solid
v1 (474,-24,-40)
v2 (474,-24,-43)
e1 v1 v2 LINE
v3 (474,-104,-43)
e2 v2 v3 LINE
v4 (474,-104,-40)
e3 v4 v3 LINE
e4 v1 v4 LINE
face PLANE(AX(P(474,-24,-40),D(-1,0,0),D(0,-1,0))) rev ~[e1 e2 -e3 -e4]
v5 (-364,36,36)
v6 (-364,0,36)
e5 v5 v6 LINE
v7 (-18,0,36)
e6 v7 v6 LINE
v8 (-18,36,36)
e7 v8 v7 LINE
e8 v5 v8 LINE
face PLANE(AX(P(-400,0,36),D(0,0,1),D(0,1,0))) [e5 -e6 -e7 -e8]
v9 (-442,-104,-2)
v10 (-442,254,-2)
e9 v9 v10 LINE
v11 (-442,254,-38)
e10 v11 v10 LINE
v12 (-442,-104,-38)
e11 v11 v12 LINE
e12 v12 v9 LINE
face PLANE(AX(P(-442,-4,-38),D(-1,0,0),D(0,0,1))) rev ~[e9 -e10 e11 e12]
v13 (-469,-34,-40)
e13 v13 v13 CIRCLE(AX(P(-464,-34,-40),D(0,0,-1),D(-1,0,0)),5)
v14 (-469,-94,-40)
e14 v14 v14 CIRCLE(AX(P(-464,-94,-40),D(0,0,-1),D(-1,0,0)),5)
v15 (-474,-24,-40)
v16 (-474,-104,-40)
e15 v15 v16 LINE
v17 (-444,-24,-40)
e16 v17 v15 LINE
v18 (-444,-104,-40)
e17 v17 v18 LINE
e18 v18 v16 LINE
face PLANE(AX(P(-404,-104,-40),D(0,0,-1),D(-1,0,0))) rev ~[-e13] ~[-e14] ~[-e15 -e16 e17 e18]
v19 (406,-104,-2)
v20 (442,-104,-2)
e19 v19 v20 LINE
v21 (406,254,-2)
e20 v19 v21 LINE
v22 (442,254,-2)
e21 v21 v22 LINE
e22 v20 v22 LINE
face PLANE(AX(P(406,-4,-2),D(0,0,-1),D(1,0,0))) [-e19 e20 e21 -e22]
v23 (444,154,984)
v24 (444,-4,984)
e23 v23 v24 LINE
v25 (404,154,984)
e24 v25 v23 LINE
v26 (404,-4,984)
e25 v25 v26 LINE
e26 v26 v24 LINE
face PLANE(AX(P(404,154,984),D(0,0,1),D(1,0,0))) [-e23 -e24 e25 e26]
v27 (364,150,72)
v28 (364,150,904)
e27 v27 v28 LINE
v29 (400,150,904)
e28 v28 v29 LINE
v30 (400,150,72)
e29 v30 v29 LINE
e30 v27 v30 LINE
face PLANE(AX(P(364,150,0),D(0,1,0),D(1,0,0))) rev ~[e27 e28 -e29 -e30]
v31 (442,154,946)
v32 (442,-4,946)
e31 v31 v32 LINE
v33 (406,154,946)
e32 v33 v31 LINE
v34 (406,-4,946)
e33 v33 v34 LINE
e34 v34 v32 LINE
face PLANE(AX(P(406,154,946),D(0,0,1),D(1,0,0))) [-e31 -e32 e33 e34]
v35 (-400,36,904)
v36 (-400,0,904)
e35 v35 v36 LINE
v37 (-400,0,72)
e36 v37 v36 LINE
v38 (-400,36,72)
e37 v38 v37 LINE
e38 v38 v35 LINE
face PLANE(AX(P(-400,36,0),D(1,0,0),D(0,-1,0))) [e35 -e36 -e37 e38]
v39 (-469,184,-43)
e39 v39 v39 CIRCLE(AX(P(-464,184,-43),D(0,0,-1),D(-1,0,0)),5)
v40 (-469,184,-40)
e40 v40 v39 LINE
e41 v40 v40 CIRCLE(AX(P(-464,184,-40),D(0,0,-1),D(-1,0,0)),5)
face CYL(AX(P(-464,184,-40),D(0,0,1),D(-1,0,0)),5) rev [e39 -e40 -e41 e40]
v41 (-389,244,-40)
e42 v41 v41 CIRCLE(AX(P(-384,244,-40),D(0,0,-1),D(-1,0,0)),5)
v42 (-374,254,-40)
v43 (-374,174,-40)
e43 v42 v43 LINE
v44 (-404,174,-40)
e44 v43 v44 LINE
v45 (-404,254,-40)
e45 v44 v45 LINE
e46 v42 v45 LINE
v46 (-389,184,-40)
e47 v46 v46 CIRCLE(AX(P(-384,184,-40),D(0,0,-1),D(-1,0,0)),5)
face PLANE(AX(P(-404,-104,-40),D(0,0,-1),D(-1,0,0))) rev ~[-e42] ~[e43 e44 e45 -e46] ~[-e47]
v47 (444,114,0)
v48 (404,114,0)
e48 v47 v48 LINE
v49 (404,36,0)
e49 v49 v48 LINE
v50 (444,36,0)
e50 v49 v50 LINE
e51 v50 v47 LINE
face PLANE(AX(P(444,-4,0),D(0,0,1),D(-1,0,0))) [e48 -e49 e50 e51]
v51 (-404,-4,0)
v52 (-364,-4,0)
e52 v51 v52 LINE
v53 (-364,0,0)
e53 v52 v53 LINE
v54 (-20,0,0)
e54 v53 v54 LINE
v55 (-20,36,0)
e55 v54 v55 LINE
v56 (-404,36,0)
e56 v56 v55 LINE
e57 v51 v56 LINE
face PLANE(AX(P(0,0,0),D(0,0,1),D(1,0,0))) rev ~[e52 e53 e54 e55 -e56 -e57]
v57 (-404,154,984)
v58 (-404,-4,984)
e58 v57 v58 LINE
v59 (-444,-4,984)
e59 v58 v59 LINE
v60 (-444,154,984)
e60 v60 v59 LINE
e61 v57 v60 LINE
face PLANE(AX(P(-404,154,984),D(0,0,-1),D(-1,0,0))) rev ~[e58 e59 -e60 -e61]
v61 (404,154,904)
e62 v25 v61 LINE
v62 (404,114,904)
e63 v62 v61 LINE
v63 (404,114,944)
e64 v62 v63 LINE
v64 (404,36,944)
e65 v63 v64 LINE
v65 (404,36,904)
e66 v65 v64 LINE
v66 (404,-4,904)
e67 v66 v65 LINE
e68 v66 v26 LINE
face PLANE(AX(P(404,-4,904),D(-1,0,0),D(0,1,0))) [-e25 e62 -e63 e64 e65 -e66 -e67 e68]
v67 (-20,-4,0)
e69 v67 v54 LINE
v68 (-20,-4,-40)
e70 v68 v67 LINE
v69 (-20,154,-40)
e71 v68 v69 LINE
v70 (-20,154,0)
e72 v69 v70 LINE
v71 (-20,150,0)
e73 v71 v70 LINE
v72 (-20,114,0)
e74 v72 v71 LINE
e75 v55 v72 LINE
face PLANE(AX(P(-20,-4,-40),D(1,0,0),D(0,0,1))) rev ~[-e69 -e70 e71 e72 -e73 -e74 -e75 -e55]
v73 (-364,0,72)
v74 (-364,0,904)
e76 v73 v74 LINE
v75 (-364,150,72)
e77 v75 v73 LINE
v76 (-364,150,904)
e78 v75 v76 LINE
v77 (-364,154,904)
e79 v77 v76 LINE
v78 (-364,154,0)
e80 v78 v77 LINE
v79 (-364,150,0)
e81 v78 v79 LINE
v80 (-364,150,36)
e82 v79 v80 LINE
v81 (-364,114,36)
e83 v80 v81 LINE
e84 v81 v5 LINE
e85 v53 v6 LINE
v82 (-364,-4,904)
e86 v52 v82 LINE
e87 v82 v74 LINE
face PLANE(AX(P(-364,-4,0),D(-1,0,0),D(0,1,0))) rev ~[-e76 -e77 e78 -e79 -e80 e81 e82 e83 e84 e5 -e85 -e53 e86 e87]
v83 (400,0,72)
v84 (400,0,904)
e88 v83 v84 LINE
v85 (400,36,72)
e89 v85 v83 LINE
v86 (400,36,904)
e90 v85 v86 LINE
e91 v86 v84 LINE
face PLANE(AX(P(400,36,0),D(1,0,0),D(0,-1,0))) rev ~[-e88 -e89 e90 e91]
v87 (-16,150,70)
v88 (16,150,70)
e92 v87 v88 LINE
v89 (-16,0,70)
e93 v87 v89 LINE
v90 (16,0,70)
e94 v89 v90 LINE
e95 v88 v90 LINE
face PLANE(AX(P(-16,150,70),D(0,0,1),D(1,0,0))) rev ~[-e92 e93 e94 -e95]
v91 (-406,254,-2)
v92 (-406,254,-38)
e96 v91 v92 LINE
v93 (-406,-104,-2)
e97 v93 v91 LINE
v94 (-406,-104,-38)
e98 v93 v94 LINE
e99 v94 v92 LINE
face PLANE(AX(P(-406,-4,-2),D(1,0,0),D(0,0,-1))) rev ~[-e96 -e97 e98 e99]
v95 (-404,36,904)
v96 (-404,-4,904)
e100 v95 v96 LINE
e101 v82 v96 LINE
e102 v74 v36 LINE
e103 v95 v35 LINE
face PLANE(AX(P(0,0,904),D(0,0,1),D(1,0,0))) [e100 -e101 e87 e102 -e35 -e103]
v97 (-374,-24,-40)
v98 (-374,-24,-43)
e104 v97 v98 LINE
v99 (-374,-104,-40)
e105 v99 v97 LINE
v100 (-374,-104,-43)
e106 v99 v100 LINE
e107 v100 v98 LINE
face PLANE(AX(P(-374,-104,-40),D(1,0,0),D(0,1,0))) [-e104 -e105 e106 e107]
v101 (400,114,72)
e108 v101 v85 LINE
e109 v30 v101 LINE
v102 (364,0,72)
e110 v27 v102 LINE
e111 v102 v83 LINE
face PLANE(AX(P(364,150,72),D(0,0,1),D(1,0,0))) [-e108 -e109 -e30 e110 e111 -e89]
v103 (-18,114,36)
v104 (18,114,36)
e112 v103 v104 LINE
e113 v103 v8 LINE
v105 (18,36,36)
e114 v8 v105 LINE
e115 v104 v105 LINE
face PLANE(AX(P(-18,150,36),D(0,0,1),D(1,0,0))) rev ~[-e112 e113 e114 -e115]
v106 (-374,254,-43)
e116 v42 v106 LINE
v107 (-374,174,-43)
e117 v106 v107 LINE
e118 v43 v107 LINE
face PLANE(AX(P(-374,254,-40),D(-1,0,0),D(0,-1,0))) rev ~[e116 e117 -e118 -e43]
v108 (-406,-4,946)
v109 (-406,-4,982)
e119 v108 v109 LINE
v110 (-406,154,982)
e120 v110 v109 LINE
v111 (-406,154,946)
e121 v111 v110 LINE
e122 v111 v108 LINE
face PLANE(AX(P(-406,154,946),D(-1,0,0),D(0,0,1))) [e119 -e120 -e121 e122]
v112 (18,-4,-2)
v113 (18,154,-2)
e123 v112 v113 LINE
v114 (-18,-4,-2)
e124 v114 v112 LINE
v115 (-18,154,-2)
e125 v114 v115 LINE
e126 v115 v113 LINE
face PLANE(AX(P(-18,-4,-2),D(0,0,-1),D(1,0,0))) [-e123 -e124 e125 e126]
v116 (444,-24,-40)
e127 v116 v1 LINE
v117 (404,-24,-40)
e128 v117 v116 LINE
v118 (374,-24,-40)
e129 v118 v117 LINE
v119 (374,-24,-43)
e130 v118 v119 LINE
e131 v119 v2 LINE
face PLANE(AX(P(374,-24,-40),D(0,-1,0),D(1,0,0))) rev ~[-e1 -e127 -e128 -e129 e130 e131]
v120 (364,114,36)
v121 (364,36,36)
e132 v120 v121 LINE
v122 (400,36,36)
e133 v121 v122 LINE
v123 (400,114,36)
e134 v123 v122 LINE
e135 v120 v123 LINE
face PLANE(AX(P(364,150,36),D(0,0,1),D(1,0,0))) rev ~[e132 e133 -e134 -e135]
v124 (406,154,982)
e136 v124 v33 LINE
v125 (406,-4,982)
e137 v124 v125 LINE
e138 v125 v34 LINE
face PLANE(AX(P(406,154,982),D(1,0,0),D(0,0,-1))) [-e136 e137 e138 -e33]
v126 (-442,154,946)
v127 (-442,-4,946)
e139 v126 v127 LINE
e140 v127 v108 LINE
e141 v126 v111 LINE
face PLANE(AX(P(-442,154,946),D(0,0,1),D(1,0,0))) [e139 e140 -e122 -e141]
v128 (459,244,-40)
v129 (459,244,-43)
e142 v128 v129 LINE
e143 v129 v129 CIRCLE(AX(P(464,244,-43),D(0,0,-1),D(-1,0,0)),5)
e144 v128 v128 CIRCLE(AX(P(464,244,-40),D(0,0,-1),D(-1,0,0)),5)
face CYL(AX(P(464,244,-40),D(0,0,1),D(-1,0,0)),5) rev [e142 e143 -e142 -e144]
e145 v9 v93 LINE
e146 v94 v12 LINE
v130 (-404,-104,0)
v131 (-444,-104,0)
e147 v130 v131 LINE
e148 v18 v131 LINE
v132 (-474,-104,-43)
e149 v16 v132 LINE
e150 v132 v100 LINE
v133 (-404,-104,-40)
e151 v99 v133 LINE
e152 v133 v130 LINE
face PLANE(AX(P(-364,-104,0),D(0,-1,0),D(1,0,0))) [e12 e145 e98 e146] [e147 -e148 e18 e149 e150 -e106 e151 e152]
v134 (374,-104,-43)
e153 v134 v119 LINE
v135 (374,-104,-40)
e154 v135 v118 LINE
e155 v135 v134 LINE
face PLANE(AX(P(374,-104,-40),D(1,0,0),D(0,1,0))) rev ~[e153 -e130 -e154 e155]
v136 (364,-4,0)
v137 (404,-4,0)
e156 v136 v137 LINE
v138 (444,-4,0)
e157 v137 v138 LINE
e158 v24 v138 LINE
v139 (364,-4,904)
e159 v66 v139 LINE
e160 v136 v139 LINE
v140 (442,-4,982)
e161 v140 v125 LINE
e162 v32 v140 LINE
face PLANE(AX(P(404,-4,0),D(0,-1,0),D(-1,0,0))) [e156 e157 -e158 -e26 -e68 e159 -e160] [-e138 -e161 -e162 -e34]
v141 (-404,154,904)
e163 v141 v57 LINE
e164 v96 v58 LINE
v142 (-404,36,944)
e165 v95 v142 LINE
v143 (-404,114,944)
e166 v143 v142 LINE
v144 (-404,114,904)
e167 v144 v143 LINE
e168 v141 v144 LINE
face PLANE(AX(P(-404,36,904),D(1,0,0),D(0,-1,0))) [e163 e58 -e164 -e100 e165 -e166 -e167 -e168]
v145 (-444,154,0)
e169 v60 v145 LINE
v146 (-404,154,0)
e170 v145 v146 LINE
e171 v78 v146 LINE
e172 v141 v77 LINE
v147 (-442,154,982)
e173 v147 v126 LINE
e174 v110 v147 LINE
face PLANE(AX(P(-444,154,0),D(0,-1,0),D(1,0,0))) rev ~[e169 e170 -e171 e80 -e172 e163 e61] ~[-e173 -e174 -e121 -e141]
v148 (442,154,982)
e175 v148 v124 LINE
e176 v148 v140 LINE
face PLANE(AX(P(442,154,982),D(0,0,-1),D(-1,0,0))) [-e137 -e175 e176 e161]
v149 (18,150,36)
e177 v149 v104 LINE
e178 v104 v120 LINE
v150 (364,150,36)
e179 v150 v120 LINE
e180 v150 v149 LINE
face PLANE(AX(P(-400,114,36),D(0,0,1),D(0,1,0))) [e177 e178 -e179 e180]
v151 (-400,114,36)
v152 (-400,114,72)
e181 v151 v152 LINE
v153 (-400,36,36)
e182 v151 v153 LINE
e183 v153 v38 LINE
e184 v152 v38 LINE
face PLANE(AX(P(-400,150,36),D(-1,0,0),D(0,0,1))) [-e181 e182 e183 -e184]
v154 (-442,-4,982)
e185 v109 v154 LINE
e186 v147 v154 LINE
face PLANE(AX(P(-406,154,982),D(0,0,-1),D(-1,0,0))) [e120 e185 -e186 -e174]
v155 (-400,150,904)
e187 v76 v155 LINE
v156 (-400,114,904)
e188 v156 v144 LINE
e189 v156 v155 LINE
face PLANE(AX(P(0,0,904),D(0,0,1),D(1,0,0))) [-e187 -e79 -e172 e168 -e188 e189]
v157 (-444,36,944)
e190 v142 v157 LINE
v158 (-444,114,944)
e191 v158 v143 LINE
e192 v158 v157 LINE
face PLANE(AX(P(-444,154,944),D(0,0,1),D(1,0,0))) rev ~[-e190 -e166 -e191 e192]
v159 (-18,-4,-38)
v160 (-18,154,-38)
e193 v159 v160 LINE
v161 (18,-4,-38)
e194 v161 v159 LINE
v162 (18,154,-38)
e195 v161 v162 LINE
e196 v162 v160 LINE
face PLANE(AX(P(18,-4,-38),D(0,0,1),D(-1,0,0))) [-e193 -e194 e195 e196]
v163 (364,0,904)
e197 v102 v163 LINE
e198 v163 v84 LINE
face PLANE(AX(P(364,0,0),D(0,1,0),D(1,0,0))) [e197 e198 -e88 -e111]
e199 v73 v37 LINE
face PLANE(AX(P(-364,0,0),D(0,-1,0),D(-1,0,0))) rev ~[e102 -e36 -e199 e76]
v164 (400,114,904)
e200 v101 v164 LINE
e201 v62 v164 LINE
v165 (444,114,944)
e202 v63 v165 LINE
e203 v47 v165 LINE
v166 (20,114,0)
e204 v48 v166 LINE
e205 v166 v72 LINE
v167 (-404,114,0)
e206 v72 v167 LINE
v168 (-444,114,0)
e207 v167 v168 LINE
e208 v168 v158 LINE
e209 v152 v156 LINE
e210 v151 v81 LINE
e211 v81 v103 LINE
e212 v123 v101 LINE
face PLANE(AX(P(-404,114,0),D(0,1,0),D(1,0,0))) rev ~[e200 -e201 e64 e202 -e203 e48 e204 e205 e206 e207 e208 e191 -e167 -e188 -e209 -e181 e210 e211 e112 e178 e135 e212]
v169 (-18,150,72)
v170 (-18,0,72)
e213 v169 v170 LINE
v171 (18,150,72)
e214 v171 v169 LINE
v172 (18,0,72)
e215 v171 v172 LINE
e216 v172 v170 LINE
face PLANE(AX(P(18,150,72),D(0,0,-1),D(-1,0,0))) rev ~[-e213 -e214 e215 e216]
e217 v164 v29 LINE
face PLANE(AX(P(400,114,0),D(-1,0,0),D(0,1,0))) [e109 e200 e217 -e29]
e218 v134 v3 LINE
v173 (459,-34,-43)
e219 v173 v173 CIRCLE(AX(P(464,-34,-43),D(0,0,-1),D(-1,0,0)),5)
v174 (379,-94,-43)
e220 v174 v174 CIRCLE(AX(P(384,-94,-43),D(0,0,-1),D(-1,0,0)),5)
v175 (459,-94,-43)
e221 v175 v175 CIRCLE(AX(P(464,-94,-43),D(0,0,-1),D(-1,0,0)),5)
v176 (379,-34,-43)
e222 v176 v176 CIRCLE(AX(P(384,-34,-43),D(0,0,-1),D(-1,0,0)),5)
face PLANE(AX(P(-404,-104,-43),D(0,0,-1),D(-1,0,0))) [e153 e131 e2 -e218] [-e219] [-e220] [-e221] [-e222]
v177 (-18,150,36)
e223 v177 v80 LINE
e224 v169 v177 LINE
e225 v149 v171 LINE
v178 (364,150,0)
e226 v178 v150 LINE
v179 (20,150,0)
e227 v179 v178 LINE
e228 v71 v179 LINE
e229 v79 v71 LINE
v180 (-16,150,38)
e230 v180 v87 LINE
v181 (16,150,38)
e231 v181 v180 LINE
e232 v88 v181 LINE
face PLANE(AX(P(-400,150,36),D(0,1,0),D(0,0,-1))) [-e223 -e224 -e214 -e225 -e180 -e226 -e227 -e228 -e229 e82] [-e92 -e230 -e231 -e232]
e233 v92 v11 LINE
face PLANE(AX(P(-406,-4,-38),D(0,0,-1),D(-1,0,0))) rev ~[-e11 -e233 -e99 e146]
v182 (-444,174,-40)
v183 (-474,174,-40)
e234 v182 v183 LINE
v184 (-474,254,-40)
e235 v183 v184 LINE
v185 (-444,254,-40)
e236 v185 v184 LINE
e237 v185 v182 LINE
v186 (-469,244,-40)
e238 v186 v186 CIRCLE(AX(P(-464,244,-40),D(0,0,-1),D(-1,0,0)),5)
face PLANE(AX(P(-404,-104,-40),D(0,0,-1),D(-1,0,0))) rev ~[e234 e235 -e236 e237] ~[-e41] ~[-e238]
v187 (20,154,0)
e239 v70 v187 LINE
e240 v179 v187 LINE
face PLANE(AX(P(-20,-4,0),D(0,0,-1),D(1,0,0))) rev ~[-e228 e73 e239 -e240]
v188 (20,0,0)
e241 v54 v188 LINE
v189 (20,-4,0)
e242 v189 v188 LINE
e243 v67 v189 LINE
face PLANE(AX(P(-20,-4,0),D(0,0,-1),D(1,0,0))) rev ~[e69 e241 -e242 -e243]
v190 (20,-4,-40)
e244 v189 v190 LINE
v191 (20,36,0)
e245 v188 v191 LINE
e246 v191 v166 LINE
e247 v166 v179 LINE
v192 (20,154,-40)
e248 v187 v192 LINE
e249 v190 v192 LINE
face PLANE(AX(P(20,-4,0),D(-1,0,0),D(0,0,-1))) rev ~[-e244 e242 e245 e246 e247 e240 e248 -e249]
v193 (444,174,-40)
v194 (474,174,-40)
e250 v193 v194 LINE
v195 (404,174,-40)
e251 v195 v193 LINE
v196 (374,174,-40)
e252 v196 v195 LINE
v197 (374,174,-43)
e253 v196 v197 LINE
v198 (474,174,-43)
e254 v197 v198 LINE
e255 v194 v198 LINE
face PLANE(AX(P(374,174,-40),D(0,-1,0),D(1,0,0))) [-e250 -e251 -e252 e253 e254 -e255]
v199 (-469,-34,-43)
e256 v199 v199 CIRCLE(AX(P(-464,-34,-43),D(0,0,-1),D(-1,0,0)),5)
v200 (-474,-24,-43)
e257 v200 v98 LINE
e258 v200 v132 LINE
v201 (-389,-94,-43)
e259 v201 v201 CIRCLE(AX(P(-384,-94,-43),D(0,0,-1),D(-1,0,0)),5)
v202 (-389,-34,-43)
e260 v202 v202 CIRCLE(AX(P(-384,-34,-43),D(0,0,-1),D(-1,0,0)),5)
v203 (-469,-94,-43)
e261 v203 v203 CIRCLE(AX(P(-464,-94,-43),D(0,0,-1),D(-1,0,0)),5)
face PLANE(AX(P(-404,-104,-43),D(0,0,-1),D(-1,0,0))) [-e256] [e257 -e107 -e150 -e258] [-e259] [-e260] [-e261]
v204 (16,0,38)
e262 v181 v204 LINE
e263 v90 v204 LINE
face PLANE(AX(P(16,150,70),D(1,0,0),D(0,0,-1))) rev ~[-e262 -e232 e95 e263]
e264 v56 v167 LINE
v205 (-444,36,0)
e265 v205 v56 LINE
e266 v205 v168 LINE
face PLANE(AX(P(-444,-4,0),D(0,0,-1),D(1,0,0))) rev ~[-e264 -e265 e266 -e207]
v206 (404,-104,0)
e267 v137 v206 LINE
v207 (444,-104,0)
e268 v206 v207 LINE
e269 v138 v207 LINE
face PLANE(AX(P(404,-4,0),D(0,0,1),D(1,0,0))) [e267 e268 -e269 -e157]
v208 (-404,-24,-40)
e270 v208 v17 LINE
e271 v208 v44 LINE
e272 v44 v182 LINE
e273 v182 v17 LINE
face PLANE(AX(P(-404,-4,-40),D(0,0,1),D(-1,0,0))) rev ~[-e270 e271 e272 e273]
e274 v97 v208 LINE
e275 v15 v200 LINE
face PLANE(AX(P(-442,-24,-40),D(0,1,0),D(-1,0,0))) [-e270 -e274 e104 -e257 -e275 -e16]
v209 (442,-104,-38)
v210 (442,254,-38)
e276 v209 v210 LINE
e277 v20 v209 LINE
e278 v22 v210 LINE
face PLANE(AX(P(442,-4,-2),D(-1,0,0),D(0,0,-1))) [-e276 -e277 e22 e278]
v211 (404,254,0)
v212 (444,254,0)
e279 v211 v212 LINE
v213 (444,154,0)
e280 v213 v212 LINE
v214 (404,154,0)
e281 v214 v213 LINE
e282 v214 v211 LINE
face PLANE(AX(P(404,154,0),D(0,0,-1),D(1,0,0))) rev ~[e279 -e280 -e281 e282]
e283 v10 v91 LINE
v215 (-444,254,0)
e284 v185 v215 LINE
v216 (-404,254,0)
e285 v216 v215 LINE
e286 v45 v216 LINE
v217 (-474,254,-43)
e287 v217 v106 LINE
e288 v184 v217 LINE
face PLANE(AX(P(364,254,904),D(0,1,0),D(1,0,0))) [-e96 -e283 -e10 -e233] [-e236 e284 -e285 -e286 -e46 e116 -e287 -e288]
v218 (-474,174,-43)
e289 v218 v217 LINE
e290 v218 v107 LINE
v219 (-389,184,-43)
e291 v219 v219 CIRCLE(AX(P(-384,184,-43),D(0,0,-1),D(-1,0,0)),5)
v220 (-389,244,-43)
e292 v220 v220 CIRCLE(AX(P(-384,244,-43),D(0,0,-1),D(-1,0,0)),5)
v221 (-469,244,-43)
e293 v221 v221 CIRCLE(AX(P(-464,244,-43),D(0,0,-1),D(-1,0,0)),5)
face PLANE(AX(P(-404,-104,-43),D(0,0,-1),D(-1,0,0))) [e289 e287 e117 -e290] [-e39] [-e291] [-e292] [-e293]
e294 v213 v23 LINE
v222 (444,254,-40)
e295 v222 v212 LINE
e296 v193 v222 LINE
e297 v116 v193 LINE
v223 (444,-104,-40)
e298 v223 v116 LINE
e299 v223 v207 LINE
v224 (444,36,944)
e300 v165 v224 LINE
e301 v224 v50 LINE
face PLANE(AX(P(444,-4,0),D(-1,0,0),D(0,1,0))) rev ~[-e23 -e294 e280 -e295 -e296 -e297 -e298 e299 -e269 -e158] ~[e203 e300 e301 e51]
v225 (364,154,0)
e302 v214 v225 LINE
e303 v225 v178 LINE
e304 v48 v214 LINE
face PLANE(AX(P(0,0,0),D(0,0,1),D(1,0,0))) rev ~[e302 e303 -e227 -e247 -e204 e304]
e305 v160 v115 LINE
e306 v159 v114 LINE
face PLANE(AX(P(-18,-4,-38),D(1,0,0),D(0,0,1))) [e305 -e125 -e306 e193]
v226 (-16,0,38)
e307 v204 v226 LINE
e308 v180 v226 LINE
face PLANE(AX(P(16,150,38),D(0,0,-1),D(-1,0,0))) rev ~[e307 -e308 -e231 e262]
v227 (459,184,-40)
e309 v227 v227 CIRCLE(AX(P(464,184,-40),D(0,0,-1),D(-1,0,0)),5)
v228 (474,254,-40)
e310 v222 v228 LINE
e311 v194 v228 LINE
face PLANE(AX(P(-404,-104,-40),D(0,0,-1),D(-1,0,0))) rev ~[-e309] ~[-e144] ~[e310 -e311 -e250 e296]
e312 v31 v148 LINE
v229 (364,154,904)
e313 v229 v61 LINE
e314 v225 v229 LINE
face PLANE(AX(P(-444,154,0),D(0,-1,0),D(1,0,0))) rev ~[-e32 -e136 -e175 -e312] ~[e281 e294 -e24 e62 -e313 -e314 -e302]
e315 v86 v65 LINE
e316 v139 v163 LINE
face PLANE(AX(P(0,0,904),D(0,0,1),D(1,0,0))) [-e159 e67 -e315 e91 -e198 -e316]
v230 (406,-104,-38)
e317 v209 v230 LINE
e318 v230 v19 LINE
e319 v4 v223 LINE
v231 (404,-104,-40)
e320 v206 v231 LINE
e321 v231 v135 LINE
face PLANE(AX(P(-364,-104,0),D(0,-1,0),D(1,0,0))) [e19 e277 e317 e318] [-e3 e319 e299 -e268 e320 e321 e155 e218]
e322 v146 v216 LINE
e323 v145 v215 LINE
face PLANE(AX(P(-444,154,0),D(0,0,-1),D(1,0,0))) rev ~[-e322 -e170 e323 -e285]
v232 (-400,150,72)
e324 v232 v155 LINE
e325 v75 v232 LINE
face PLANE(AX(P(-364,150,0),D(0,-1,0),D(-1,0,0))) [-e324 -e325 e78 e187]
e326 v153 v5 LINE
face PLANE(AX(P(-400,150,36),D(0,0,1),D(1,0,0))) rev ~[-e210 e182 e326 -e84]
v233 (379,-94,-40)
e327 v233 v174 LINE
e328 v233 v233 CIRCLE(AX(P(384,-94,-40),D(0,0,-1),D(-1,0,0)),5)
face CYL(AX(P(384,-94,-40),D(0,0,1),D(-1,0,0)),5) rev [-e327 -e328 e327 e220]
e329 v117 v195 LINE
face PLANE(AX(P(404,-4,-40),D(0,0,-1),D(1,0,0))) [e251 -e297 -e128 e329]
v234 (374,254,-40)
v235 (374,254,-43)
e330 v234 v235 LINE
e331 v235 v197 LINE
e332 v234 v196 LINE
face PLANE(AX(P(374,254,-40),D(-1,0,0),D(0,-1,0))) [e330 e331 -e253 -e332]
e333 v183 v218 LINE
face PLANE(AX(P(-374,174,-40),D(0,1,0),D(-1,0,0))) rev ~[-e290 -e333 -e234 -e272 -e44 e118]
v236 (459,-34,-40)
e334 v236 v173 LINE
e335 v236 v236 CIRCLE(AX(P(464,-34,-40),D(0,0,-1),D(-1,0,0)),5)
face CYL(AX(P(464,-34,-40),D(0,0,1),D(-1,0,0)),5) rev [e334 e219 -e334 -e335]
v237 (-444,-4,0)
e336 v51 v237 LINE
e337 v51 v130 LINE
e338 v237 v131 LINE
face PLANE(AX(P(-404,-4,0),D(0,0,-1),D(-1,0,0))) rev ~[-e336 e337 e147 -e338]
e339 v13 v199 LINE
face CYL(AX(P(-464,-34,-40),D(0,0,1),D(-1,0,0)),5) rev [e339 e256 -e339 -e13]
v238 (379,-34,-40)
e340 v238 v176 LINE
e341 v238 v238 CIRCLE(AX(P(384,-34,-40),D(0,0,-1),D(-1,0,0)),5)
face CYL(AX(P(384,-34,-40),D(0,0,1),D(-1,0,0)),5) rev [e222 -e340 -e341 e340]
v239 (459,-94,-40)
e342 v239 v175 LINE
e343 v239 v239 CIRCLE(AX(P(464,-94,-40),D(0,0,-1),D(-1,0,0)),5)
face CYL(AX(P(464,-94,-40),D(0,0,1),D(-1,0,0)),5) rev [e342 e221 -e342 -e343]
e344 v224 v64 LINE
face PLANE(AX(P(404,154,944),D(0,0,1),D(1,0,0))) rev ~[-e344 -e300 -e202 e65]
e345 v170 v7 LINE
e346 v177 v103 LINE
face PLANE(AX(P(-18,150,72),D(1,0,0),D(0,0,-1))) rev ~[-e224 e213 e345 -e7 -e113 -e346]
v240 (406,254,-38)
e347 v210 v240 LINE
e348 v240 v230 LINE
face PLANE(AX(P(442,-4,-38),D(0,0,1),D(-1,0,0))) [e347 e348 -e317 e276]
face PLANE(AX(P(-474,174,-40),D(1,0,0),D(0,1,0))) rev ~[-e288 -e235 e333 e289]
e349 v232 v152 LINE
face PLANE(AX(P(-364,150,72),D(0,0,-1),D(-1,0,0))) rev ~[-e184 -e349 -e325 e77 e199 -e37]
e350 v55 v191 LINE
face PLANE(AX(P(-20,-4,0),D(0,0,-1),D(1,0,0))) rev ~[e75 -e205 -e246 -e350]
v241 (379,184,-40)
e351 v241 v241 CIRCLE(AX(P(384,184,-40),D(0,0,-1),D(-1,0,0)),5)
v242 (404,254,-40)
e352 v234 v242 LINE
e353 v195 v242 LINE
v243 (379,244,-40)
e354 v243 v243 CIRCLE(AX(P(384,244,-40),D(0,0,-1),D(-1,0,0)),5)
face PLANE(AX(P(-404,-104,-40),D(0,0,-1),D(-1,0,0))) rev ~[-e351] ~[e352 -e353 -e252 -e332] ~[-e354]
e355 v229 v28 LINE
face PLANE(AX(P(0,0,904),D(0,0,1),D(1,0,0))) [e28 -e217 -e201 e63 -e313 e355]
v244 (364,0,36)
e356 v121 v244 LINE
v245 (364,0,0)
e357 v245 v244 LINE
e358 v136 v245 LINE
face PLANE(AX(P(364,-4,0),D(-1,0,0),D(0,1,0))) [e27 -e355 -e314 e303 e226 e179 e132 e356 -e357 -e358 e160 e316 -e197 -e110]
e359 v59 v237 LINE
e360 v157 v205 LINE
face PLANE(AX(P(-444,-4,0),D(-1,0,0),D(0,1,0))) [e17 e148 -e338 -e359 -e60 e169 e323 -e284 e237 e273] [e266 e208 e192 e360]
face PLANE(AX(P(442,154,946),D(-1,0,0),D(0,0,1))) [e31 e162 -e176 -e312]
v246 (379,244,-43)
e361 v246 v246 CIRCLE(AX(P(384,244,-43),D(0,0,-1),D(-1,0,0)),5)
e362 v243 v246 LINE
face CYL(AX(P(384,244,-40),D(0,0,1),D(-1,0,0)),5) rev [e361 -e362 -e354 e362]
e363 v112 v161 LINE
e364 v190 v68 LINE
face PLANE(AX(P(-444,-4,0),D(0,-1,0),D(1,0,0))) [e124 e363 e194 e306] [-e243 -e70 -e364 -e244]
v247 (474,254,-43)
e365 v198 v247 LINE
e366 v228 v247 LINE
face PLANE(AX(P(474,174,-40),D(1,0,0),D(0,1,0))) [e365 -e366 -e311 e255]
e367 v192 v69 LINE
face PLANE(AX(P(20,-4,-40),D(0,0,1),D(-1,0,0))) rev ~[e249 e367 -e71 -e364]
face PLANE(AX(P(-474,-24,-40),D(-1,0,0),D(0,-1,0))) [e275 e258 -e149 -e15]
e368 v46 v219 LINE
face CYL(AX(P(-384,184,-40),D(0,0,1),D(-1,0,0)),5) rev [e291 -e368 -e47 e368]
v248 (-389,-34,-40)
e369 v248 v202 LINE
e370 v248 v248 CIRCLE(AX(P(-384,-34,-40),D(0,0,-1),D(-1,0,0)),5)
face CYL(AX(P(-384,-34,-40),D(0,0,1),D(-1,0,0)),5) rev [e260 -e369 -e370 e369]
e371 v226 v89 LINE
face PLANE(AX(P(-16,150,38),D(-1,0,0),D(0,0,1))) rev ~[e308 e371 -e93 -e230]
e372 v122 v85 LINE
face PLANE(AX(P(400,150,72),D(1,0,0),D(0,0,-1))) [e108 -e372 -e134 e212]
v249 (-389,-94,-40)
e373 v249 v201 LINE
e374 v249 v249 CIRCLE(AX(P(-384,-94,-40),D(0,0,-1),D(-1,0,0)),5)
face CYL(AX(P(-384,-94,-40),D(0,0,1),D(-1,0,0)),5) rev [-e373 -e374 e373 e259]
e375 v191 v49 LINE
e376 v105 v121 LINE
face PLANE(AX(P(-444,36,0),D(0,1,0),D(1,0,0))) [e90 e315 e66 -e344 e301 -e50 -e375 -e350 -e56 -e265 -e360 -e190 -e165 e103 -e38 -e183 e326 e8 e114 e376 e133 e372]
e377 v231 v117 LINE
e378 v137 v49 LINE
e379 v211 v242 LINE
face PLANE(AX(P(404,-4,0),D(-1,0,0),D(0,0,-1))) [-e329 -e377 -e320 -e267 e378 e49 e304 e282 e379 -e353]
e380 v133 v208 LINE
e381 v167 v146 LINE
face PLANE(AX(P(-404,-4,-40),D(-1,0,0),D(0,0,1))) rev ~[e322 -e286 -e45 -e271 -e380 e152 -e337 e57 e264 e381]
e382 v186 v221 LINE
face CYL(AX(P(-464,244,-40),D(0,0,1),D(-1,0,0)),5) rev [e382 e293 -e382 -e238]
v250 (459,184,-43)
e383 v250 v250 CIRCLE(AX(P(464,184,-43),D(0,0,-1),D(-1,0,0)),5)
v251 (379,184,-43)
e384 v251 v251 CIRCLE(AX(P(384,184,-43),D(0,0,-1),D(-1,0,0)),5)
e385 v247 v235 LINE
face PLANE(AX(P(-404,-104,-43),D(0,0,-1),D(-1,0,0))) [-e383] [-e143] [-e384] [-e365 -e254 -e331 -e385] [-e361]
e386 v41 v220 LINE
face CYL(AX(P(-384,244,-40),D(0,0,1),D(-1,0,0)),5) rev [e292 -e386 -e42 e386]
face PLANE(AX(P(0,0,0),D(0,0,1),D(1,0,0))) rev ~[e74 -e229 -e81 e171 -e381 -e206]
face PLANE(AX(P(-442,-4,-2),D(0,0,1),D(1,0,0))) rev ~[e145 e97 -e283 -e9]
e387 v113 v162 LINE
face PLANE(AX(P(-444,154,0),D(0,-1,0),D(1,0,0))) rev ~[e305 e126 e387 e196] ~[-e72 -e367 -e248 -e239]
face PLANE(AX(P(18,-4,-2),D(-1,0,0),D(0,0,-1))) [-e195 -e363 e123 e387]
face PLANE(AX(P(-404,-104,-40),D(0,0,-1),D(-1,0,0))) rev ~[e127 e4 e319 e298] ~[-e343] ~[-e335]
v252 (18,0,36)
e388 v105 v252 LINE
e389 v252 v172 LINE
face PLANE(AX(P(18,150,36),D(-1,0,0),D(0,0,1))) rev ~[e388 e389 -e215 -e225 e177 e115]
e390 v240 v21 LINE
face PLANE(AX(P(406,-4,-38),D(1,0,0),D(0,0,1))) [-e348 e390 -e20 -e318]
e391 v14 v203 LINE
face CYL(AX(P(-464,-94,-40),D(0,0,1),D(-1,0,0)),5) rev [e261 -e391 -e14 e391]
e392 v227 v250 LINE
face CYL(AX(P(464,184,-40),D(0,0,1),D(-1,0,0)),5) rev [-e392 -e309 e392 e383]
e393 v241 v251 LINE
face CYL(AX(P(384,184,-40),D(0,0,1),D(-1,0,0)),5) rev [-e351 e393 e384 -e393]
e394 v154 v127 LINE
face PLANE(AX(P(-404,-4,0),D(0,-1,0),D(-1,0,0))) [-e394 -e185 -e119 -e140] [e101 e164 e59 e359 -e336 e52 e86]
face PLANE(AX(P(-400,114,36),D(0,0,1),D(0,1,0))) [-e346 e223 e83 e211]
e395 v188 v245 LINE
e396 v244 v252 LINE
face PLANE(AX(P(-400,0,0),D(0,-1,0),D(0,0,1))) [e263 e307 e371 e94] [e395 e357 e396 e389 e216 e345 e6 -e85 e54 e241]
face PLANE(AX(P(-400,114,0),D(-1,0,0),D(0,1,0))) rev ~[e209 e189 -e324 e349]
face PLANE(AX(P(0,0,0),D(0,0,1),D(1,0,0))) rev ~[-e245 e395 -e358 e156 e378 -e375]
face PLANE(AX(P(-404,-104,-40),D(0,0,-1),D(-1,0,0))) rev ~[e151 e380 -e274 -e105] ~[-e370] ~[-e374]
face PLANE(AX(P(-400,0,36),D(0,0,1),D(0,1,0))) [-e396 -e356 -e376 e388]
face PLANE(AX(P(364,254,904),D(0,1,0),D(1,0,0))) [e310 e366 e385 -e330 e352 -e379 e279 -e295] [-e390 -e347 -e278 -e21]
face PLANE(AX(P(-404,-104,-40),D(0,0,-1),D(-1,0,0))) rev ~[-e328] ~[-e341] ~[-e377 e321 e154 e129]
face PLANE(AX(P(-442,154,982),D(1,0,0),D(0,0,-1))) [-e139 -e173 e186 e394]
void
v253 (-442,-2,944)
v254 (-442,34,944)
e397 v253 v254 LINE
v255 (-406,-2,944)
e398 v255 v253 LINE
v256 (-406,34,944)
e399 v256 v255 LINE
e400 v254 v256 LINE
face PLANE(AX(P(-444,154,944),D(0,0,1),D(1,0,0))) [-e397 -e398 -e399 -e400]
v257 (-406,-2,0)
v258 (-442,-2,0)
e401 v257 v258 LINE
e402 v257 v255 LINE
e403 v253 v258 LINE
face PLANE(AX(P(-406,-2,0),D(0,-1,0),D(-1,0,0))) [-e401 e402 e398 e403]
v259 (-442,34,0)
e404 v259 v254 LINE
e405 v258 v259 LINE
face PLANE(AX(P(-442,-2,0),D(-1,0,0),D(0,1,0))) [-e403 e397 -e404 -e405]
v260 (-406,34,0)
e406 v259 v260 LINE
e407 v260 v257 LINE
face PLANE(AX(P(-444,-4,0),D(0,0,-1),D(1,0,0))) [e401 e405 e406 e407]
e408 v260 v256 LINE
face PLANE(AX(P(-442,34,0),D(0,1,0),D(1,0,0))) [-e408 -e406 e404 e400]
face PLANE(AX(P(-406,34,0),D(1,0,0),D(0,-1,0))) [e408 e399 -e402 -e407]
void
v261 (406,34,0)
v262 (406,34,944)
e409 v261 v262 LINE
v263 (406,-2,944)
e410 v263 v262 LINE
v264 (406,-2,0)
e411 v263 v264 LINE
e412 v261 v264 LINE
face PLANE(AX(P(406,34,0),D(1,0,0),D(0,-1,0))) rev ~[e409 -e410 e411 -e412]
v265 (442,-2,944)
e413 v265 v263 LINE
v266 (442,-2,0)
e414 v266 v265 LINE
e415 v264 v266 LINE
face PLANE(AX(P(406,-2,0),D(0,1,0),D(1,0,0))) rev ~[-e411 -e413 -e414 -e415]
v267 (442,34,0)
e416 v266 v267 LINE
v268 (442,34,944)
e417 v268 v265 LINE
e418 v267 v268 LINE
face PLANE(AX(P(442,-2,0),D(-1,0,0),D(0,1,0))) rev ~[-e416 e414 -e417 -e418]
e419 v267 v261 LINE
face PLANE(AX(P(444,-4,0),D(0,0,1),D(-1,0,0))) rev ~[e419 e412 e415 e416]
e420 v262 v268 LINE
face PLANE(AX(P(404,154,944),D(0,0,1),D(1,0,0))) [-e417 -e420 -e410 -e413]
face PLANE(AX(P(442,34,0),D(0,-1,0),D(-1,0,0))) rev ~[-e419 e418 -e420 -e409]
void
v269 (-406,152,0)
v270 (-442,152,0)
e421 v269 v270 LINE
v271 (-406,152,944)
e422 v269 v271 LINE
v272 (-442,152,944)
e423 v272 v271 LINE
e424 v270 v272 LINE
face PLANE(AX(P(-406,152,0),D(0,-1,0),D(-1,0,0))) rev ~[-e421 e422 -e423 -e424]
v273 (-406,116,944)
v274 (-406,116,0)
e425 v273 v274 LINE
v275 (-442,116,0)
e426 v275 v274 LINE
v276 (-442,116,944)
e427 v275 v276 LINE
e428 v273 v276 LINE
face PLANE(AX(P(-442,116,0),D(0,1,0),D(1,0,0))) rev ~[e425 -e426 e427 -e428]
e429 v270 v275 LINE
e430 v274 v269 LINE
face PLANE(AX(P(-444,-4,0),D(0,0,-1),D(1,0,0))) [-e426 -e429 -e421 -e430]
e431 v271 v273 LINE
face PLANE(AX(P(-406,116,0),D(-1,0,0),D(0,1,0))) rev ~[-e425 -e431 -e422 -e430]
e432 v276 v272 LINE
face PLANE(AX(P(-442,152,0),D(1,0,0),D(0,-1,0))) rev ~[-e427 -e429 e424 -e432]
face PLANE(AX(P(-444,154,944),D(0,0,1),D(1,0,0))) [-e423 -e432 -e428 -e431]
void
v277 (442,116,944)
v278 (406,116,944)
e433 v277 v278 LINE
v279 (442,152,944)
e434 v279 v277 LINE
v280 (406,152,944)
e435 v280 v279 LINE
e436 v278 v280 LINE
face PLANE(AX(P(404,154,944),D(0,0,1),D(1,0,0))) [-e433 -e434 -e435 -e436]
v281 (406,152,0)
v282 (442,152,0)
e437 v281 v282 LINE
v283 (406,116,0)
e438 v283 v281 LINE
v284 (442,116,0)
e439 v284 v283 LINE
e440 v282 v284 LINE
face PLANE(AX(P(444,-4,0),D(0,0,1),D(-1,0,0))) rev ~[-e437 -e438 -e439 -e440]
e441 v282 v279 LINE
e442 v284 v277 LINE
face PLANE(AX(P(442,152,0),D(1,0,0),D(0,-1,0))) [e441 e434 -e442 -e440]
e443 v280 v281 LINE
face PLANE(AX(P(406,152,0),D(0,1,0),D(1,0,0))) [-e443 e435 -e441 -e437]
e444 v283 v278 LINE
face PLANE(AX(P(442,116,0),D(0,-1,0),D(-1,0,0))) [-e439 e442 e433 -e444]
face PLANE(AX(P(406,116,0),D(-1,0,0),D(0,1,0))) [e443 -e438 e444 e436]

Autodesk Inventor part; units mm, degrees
ref_plane "YZ Plane" through (0, 0, 0) normal (1, 0, 0) x (0, 1, 0)
ref_plane "XZ Plane" through (0, 0, 0) normal (0, 1, 0) x (-1, 0, 0)
ref_plane "XY Plane" through (0, 0, 0) normal (0, 0, 1) x (1, 0, 0)
sketch "Boceto1" plane through (0, 0, 0) normal (0, 0, 1) x (1, 0, 0)
  line L0 (0, 0) -> (-828.6689, 0) construction
  line L1 (0, 0) -> (821.843, 0) construction
  line L2 (-400, 150) -> (400, 150) construction
  line L3 (400, 150) -> (400, 0) construction
  line L4 (400, 0) -> (-400, 0) construction
  line L5 (-400, 0) -> (-400, 150) construction
  line L6 (0, 0) -> (0, 380.6015) construction
  line L7 (-404, 36) -> (-404, -4) construction
  line L8 (-404, -4) -> (-364, -4)
  line L9 (-364, -4) -> (-364, 0)
  line L10 (-364, 0) -> (-400, 0)
  line L11 (-400, 36) -> (-400, 0)
  line L12 (-404, 36) -> (-400, 36)
  line L13 (-404, -4) -> (-444, -4)
  line L14 (-444, -4) -> (-444, 36)
  line L15 (-444, 36) -> (-404, 36)
  line L16 (-404, 36) -> (-404, -4) construction
  line L17 (-442, 34) -> (-406, 34)
  line L18 (-406, 34) -> (-406, -2)
  line L19 (-406, -2) -> (-442, -2)
  line L20 (-442, -2) -> (-442, 34)
  line L21 (-424, 34) -> (-424, 36) construction
  line L22 (-442, 16) -> (-444, 16) construction
  line L23 (0, 0) -> (828.6689, 0) construction
  line L24 (0, 0) -> (-821.843, 0) construction
  line L25 (-400, 0) -> (400, 0) construction
  line L26 (404, 36) -> (404, -4) construction
  line L27 (404, -4) -> (364, -4)
  line L28 (364, -4) -> (364, 0)
  line L29 (364, 0) -> (400, 0)
  line L30 (400, 36) -> (400, 0)
  line L31 (404, 36) -> (400, 36)
  line L32 (404, -4) -> (444, -4)
  line L33 (444, -4) -> (444, 36)
  line L34 (444, 36) -> (404, 36)
  line L35 (404, 36) -> (404, -4) construction
  line L36 (442, 34) -> (406, 34)
  line L37 (406, 34) -> (406, -2)
  line L38 (406, -2) -> (442, -2)
  line L39 (442, -2) -> (442, 34)
  line L40 (424, 34) -> (424, 36) construction
  line L41 (442, 16) -> (444, 16) construction
  line L42 (400, 75) -> (-400, 75) construction
  line L43 (0, 150) -> (-828.6689, 150) construction
  line L44 (0, 150) -> (821.843, 150) construction
  line L45 (400, 150) -> (-400, 150) construction
  line L46 (0, 150) -> (0, -230.6015) construction
  line L47 (-404, 114) -> (-404, 154) construction
  line L48 (-404, 154) -> (-364, 154)
  line L49 (-364, 154) -> (-364, 150)
  line L50 (-364, 150) -> (-400, 150)
  line L51 (-400, 114) -> (-400, 150)
  line L52 (-404, 114) -> (-400, 114)
  line L53 (-404, 154) -> (-444, 154)
  line L54 (-444, 154) -> (-444, 114)
  line L55 (-444, 114) -> (-404, 114)
  line L56 (-404, 114) -> (-404, 154) construction
  line L57 (-442, 116) -> (-406, 116)
  line L58 (-406, 116) -> (-406, 152)
  line L59 (-406, 152) -> (-442, 152)
  line L60 (-442, 152) -> (-442, 116)
  line L61 (-424, 116) -> (-424, 114) construction
  line L62 (-442, 134) -> (-444, 134) construction
  line L63 (-400, 150) -> (400, 150) construction
  line L64 (364, 150) -> (400, 150)
  line L65 (364, 154) -> (364, 150)
  line L66 (404, 154) -> (364, 154)
  line L67 (0, 150) -> (828.6689, 150) construction
  line L68 (400, 114) -> (400, 150)
  line L69 (404, 114) -> (400, 114)
  line L70 (404, 114) -> (404, 154) construction
  line L71 (404, 114) -> (404, 154) construction
  line L72 (406, 116) -> (406, 152)
  line L73 (424, 116) -> (424, 114) construction
  line L74 (406, 152) -> (442, 152)
  line L75 (404, 154) -> (444, 154)
  line L76 (442, 152) -> (442, 116)
  line L77 (444, 154) -> (444, 114)
  line L78 (442, 134) -> (444, 134) construction
  line L79 (442, 116) -> (406, 116)
  line L80 (444, 114) -> (404, 114)
  line L81 (0, 150) -> (-821.843, 150) construction
  dimension "d0" = 800
  dimension "d1" = 150
  dimension "d3" = 4
  dimension "d5" = 40
  dimension "d7" = 40
  dimension "d8" = 2
extrude "Extrusión1" add sketch "Boceto1" along normal blind 904
sketch "Boceto2" plane through (-400, 0, 0) normal (1, 0, 0) x (0, 0, -1)
  line L0 (0, 0) -> (0, 36) projected
  line L1 (0, 36) -> (-904, 36) projected
  line L2 (-904, 0) -> (-904, 36) projected
  line L3 (0, 0) -> (-904, 0) projected
  line L4 (0, 0) -> (0, 36) projected
  line L5 (0, 36) -> (-904, 36) projected
  line L6 (0, 0) -> (-36, 0)
  line L7 (-36, 0) -> (-36, 36)
  line L8 (-36, 36) -> (0, 36)
  line L9 (0, 36) -> (0, 0)
  line L10 (0, 114) -> (-904, 114) projected
  line L11 (0, 114) -> (-36, 114)
  line L12 (-36, 114) -> (-36, 150)
  line L13 (-36, 150) -> (0, 150)
  line L14 (0, 150) -> (0, 114)
  line L15 (0, 150) -> (-904, 150) projected
extrude "Extrusión2" add sketch "Boceto2" along normal up to next contours L3 L7 L1 L0 | L10 L12 L13 L14
sketch "Boceto10" plane through (0, 0, 904) normal (0, 0, 1) x (1, 0, 0)
  line L0 (-400, 114) -> (-400, 150) projected
  line L1 (-400, 150) -> (-364, 150) projected
  line L2 (-364, 150) -> (-364, 154) projected
  line L3 (-364, 154) -> (-444, 154) projected
  line L4 (-444, 154) -> (-444, 114) projected
  line L5 (-444, 114) -> (-400, 114) projected
  line L6 (-442, 152) -> (-406, 152) projected
  line L7 (-406, 152) -> (-406, 116) projected
  line L8 (-406, 116) -> (-442, 116) projected
  line L9 (-442, 116) -> (-442, 152) projected
  line L10 (-400, 36) -> (-444, 36) projected
  line L11 (-444, 36) -> (-444, -4) projected
  line L12 (-444, -4) -> (-364, -4) projected
  line L13 (-364, -4) -> (-364, 0) projected
  line L14 (-364, 0) -> (-400, 0) projected
  line L15 (-400, 0) -> (-400, 36) projected
  line L16 (-442, -2) -> (-442, 34) projected
  line L17 (-442, 34) -> (-406, 34) projected
  line L18 (-406, 34) -> (-406, -2) projected
  line L19 (-406, -2) -> (-442, -2) projected
  line L20 (400, 114) -> (444, 114) projected
  line L21 (444, 114) -> (444, 154) projected
  line L22 (444, 154) -> (364, 154) projected
  line L23 (364, 154) -> (364, 150) projected
  line L24 (364, 150) -> (400, 150) projected
  line L25 (400, 150) -> (400, 114) projected
  line L26 (442, 152) -> (442, 116) projected
  line L27 (442, 116) -> (406, 116) projected
  line L28 (406, 116) -> (406, 152) projected
  line L29 (406, 152) -> (442, 152) projected
  line L30 (400, 36) -> (400, 0) projected
  line L31 (400, 0) -> (364, 0) projected
  line L32 (364, 0) -> (364, -4) projected
  line L33 (364, -4) -> (444, -4) projected
  line L34 (444, -4) -> (444, 36) projected
  line L35 (444, 36) -> (400, 36) projected
  line L36 (442, 34) -> (442, -2) projected
  line L37 (442, -2) -> (406, -2) projected
  line L38 (406, -2) -> (406, 34) projected
  line L39 (406, 34) -> (442, 34) projected
  line L40 (-364, 154) -> (-444, 154) projected
  line L41 (-404, 154) -> (-404, -4)
  line L42 (-444, -4) -> (-364, -4) projected
  line L43 (404, -4) -> (404, 154)
  line L44 (444, 154) -> (364, 154) projected
  point P0 (0, 0)
  point P1 (404, 114)
  point P2 (404, 36)
  point P3 (-404, 114)
  point P4 (-404, -4)
  point P5 (-404, 36)
  dimension "d36" = 2
  dimension "d37" = 2
extrude "Extrusión5" add sketch "Boceto10" along normal blind 40 contours L41 L12 L11 L10 | L5 L4 L3 L41 | L35 L34 L33 L43 | L43 L22 L21 L20
sketch "Boceto15" plane through (-444, -4, 0) normal (0, -1, 0) x (1, 0, 0)
  line L0 (0, 0) -> (0, 944) projected
  line L1 (0, 0) -> (40, 0)
  line L2 (40, 0) -> (40, -40)
  line L3 (40, -40) -> (0, -40)
  line L4 (0, -40) -> (0, 0)
  line L5 (888, 0) -> (848, 0)
  line L6 (848, 0) -> (848, -40)
  line L7 (848, -40) -> (888, -40)
  line L8 (888, -40) -> (888, 0)
  line L9 (2, -2) -> (38, -2)
  line L10 (38, -2) -> (38, -38)
  line L11 (38, -38) -> (2, -38)
  line L12 (2, -38) -> (2, -2)
  line L13 (2, -20) -> (0, -20) construction
  line L14 (20, -38) -> (20, -40) construction
  line L15 (850, -2) -> (886, -2)
  line L16 (886, -2) -> (886, -38)
  line L17 (886, -38) -> (850, -38)
  line L18 (850, -38) -> (850, -2)
  line L19 (848, -20) -> (850, -20) construction
  line L20 (868, -38) -> (868, -40) construction
  line L21 (424, 0) -> (464, 0)
  line L22 (464, 0) -> (464, -40)
  line L23 (464, -40) -> (424, -40)
  line L24 (424, -40) -> (424, 0)
  line L25 (426, -2) -> (462, -2)
  line L26 (462, -2) -> (462, -38)
  line L27 (462, -38) -> (426, -38)
  line L28 (426, -38) -> (426, -2)
  line L29 (424, -20) -> (426, -20) construction
  line L30 (444, -38) -> (444, -40) construction
  line L31 (808, 0) -> (888, 0) projected
  point P0 (444, 0)
  point P1 (444, 0)
  dimension "d46" = 40
  dimension "d47" = 2
  dimension "d48" = 2
  dimension "d51" = 2
  dimension "d52" = 40
extrude "Extrusión8" add sketch "Boceto15" against normal up to surface (158 mm away)
sketch "Boceto16" plane through (-364, -4, 0) normal (0, -1, 0) x (1, 0, 0)
  line L0 (-78, -38) -> (-78, -2) projected
  line L1 (-78, -2) -> (-42, -2) projected
  line L2 (-42, -2) -> (-42, -38) projected
  line L3 (-42, -38) -> (-78, -38) projected
  line L4 (-40, 0) -> (0, 0) projected
  line L5 (0, 0) -> (0, 904) projected
  line L6 (-40, 904) -> (0, 904) projected
  line L7 (-40, 904) -> (-40, 944) projected
  line L8 (-80, 944) -> (-40, 944) projected
  line L9 (-80, -40) -> (-80, 944) projected
  line L10 (-80, -40) -> (-40, -40) projected
  line L11 (-40, -40) -> (-40, 0) projected
  line L12 (770, -38) -> (770, -2) projected
  line L13 (770, -2) -> (806, -2) projected
  line L14 (806, -2) -> (806, -38) projected
  line L15 (806, -38) -> (770, -38) projected
  line L16 (728, 0) -> (768, 0) projected
  line L17 (768, 0) -> (768, -40) projected
  line L18 (768, -40) -> (808, -40) projected
  line L19 (808, -40) -> (808, 944) projected
  line L20 (768, 944) -> (808, 944) projected
  line L21 (768, 904) -> (768, 944) projected
  line L22 (728, 904) -> (768, 904) projected
  line L23 (728, 0) -> (728, 904) projected
  line L24 (-40, 0) -> (-80, 0) projected
  line L25 (-40, 0) -> (-80, 0)
  line L26 (-40, -40) -> (-40, 0) projected
  line L27 (-40, 0) -> (-80, 0)
  line L28 (768, 0) -> (728, 0) projected
  line L29 (768, 0) -> (808, 0) projected
  line L30 (768, 0) -> (808, 0)
  point P0 (364, 0)
extrude "Extrusión9" add sketch "Boceto16" along normal blind 100 contours L11 L10 L9 L24 | L29 L19 L18 L17
sketch "Boceto18" plane through (-400, 150, 904) normal (0, -1, 0) x (1, 0, 0)
  line L0 (0, -868) -> (0, 0) projected
  line L1 (36, -868) -> (36, 0) projected
  line L2 (0, -868) -> (36, -868)
  line L3 (36, -868) -> (36, -832)
  line L4 (36, -832) -> (0, -832)
  line L5 (0, -832) -> (0, -868)
  line L6 (764, -868) -> (800, -868) projected
  line L7 (764, -868) -> (764, 0) projected
  line L8 (800, -868) -> (764, -868)
  line L9 (764, -868) -> (764, -832)
  line L10 (764, -832) -> (800, -832)
  line L11 (800, -832) -> (800, -868)
  line L12 (36, -868) -> (764, -868) projected
  line L13 (382, -868) -> (418, -868)
  line L14 (418, -868) -> (418, -832)
  line L15 (418, -832) -> (382, -832)
  line L16 (382, -832) -> (382, -868)
  line L17 (384, -834) -> (416, -834)
  line L18 (416, -834) -> (416, -866)
  line L19 (416, -866) -> (384, -866)
  line L20 (384, -866) -> (384, -834)
  line L21 (400, -832) -> (400, -834) construction
  line L22 (384, -850) -> (382, -850) construction
  point P0 (400, -904)
  point P1 (400, -868)
  point P2 (0, -832)
  dimension "d55" = 2
extrude "Extrusión10" add sketch "Boceto18" along normal up to surface (150 mm away)
sketch "Boceto19" plane through (364, 154, 904) normal (0, 1, 0) x (1, 0, 0)
  line L0 (42, 906) -> (78, 906) projected
  line L1 (42, 942) -> (42, 906) projected
  line L2 (78, 942) -> (42, 942) projected
  line L3 (78, 906) -> (78, 942) projected
  line L4 (40, 904) -> (0, 904) projected
  line L5 (0, 904) -> (0, 0) projected
  line L6 (40, 0) -> (0, 0) projected
  line L7 (40, 0) -> (40, -40) projected
  line L8 (80, -40) -> (40, -40) projected
  line L9 (80, 944) -> (80, -40) projected
  line L10 (40, 944) -> (80, 944) projected
  line L11 (40, 904) -> (40, 944) projected
  line L12 (-764, 868) -> (-728, 868) projected
  line L13 (-770, 904) -> (-770, -40) projected
  line L14 (-808, 944) -> (-808, -40) projected
  line L15 (-806, 906) -> (-770, 906) projected
  line L16 (-806, 942) -> (-806, 906) projected
  line L17 (-770, 942) -> (-806, 942) projected
  line L18 (-770, 906) -> (-770, 942) projected
  line L19 (-728, 904) -> (-768, 904) projected
  line L20 (-768, 944) -> (-768, 904) projected
  line L21 (-808, 944) -> (-768, 944) projected
  line L22 (-808, 944) -> (-808, -40) projected
  line L23 (-768, -40) -> (-808, -40) projected
  line L24 (-768, 0) -> (-768, -40) projected
  line L25 (-728, 0) -> (-768, 0) projected
  line L26 (-728, 904) -> (-728, 0) projected
  line L27 (-768, 944) -> (-768, 904) projected
  line L28 (-808, 904) -> (-768, 904) projected
  line L29 (-768, 904) -> (-808, 904)
  line L30 (40, 904) -> (80, 904) projected
  line L31 (40, 904) -> (80, 904)
  point P0 (-364, 904)
extrude "Extrusión11" add sketch "Boceto19" along normal blind 100 contours L11 L10 L9 L30 | L28 L14 L21 L20
sketch "Boceto20" plane through (-404, -104, -40) normal (0, 0, -1) x (-1, 0, 0)
  line L0 (70, 0) -> (-30, 0)
  line L1 (-30, 0) -> (-30, 80)
  line L2 (-30, 80) -> (70, 80)
  line L3 (70, 80) -> (70, 0)
  line L4 (40, 0) -> (0, 0) projected
  line L5 (60, 10) -> (-20, 10) construction
  line L6 (-20, 10) -> (-20, 70) construction
  line L7 (-20, 70) -> (60, 70) construction
  line L8 (60, 70) -> (60, 10) construction
  line L9 (20, 0) -> (20, 10) construction
  line L10 (70, 40) -> (60, 40) construction
  circle A0 centre (60, 10) radius 5
  circle A1 centre (60, 70) radius 5
  circle A2 centre (-20, 70) radius 5
  circle A3 centre (-20, 10) radius 5
  line L11 (-384, 100) -> (-424, 100) construction
  line L12 (-404, 100) -> (-404, -48.3677) construction
  line L13 (38, 0) -> (38, 358) projected
  line L14 (38, 179) -> (218.9212, 179) construction
  line L15 (-878, 0) -> (-778, 0)
  line L16 (-778, 0) -> (-778, 80)
  line L17 (-778, 80) -> (-878, 80)
  line L18 (-878, 80) -> (-878, 0)
  line L19 (-848, 0) -> (-808, 0)
  line L20 (-868, 10) -> (-788, 10) construction
  line L21 (-788, 10) -> (-788, 70) construction
  line L22 (-788, 70) -> (-868, 70) construction
  line L23 (-868, 70) -> (-868, 10) construction
  line L24 (-828, 0) -> (-828, 10) construction
  line L25 (-878, 40) -> (-868, 40) construction
  circle A4 centre (-868, 10) radius 5
  circle A5 centre (-868, 70) radius 5
  circle A6 centre (-788, 70) radius 5
  circle A7 centre (-788, 10) radius 5
  line L26 (70, 358) -> (-30, 358)
  line L27 (-30, 358) -> (-30, 278)
  line L28 (-30, 278) -> (70, 278)
  line L29 (70, 278) -> (70, 358)
  line L30 (40, 358) -> (0, 358)
  line L31 (60, 348) -> (-20, 348) construction
  line L32 (-20, 348) -> (-20, 288) construction
  line L33 (-20, 288) -> (60, 288) construction
  line L34 (60, 288) -> (60, 348) construction
  line L35 (20, 358) -> (20, 348) construction
  line L36 (70, 318) -> (60, 318) construction
  circle A8 centre (60, 348) radius 5
  circle A9 centre (60, 288) radius 5
  circle A10 centre (-20, 288) radius 5
  circle A11 centre (-20, 348) radius 5
  line L37 (-384, 258) -> (-424, 258) construction
  line L38 (-404, 258) -> (-404, 406.3677) construction
  line L39 (-878, 318) -> (-868, 318) construction
  circle A12 centre (-868, 288) radius 5
  line L40 (-868, 288) -> (-868, 348) construction
  circle A13 centre (-868, 348) radius 5
  line L41 (-878, 278) -> (-878, 358)
  line L42 (-788, 288) -> (-868, 288) construction
  line L43 (-848, 358) -> (-808, 358)
  line L44 (-778, 278) -> (-878, 278)
  line L45 (-868, 348) -> (-788, 348) construction
  line L46 (-878, 358) -> (-778, 358)
  line L47 (-828, 358) -> (-828, 348) construction
  line L48 (-788, 348) -> (-788, 288) construction
  line L49 (-778, 358) -> (-778, 278)
  circle A14 centre (-788, 288) radius 5
  circle A15 centre (-788, 348) radius 5
  point P0 (-404, 104)
  point P1 (-846, 0)
  point P2 (-404, 254)
  point P3 (-846, 358)
  dimension "d60" = 100
  dimension "d61" = 80
  dimension "d62" = 80
  dimension "d63" = 60
  dimension "d64" = 10
  dimension "d65" = 10
  dimension "d66" = 10
  dimension "d67" = 10
extrude "Extrusión12" add sketch "Boceto20" along normal blind 3
sketch "Boceto22" plane through (364, 154, 904) normal (0, 1, 0) x (1, 0, 0)
  line L0 (40, -40) -> (80, -40) projected
  line L1 (80, -40) -> (40, -40)
  line L2 (40, -40) -> (40, -80)
  line L3 (40, -80) -> (80, -80)
  line L4 (80, -80) -> (80, -40)
  line L5 (-808, 904) -> (-808, -40) projected
  line L6 (-808, -40) -> (-768, -40)
  line L7 (-768, -40) -> (-768, -80)
  line L8 (-768, -80) -> (-808, -80)
  line L9 (-808, -80) -> (-808, -40)
  line L10 (78, -78) -> (42, -78)
  line L11 (42, -78) -> (42, -42)
  line L12 (42, -42) -> (78, -42)
  line L13 (78, -42) -> (78, -78)
  line L14 (60, -78) -> (60, -80) construction
  line L15 (78, -60) -> (80, -60) construction
  line L16 (-770, -78) -> (-806, -78)
  line L17 (-806, -78) -> (-806, -42)
  line L18 (-806, -42) -> (-770, -42)
  line L19 (-770, -42) -> (-770, -78)
  line L20 (-788, -78) -> (-788, -80) construction
  line L21 (-770, -60) -> (-768, -60) construction
  point P0 (-364, 904)
  dimension "d70" = 40
  dimension "d71" = 2
  dimension "d72" = 2
extrude "Extrusión13" add sketch "Boceto22" against normal up to surface (158 mm away)
properties part number "SoporteBobina"
